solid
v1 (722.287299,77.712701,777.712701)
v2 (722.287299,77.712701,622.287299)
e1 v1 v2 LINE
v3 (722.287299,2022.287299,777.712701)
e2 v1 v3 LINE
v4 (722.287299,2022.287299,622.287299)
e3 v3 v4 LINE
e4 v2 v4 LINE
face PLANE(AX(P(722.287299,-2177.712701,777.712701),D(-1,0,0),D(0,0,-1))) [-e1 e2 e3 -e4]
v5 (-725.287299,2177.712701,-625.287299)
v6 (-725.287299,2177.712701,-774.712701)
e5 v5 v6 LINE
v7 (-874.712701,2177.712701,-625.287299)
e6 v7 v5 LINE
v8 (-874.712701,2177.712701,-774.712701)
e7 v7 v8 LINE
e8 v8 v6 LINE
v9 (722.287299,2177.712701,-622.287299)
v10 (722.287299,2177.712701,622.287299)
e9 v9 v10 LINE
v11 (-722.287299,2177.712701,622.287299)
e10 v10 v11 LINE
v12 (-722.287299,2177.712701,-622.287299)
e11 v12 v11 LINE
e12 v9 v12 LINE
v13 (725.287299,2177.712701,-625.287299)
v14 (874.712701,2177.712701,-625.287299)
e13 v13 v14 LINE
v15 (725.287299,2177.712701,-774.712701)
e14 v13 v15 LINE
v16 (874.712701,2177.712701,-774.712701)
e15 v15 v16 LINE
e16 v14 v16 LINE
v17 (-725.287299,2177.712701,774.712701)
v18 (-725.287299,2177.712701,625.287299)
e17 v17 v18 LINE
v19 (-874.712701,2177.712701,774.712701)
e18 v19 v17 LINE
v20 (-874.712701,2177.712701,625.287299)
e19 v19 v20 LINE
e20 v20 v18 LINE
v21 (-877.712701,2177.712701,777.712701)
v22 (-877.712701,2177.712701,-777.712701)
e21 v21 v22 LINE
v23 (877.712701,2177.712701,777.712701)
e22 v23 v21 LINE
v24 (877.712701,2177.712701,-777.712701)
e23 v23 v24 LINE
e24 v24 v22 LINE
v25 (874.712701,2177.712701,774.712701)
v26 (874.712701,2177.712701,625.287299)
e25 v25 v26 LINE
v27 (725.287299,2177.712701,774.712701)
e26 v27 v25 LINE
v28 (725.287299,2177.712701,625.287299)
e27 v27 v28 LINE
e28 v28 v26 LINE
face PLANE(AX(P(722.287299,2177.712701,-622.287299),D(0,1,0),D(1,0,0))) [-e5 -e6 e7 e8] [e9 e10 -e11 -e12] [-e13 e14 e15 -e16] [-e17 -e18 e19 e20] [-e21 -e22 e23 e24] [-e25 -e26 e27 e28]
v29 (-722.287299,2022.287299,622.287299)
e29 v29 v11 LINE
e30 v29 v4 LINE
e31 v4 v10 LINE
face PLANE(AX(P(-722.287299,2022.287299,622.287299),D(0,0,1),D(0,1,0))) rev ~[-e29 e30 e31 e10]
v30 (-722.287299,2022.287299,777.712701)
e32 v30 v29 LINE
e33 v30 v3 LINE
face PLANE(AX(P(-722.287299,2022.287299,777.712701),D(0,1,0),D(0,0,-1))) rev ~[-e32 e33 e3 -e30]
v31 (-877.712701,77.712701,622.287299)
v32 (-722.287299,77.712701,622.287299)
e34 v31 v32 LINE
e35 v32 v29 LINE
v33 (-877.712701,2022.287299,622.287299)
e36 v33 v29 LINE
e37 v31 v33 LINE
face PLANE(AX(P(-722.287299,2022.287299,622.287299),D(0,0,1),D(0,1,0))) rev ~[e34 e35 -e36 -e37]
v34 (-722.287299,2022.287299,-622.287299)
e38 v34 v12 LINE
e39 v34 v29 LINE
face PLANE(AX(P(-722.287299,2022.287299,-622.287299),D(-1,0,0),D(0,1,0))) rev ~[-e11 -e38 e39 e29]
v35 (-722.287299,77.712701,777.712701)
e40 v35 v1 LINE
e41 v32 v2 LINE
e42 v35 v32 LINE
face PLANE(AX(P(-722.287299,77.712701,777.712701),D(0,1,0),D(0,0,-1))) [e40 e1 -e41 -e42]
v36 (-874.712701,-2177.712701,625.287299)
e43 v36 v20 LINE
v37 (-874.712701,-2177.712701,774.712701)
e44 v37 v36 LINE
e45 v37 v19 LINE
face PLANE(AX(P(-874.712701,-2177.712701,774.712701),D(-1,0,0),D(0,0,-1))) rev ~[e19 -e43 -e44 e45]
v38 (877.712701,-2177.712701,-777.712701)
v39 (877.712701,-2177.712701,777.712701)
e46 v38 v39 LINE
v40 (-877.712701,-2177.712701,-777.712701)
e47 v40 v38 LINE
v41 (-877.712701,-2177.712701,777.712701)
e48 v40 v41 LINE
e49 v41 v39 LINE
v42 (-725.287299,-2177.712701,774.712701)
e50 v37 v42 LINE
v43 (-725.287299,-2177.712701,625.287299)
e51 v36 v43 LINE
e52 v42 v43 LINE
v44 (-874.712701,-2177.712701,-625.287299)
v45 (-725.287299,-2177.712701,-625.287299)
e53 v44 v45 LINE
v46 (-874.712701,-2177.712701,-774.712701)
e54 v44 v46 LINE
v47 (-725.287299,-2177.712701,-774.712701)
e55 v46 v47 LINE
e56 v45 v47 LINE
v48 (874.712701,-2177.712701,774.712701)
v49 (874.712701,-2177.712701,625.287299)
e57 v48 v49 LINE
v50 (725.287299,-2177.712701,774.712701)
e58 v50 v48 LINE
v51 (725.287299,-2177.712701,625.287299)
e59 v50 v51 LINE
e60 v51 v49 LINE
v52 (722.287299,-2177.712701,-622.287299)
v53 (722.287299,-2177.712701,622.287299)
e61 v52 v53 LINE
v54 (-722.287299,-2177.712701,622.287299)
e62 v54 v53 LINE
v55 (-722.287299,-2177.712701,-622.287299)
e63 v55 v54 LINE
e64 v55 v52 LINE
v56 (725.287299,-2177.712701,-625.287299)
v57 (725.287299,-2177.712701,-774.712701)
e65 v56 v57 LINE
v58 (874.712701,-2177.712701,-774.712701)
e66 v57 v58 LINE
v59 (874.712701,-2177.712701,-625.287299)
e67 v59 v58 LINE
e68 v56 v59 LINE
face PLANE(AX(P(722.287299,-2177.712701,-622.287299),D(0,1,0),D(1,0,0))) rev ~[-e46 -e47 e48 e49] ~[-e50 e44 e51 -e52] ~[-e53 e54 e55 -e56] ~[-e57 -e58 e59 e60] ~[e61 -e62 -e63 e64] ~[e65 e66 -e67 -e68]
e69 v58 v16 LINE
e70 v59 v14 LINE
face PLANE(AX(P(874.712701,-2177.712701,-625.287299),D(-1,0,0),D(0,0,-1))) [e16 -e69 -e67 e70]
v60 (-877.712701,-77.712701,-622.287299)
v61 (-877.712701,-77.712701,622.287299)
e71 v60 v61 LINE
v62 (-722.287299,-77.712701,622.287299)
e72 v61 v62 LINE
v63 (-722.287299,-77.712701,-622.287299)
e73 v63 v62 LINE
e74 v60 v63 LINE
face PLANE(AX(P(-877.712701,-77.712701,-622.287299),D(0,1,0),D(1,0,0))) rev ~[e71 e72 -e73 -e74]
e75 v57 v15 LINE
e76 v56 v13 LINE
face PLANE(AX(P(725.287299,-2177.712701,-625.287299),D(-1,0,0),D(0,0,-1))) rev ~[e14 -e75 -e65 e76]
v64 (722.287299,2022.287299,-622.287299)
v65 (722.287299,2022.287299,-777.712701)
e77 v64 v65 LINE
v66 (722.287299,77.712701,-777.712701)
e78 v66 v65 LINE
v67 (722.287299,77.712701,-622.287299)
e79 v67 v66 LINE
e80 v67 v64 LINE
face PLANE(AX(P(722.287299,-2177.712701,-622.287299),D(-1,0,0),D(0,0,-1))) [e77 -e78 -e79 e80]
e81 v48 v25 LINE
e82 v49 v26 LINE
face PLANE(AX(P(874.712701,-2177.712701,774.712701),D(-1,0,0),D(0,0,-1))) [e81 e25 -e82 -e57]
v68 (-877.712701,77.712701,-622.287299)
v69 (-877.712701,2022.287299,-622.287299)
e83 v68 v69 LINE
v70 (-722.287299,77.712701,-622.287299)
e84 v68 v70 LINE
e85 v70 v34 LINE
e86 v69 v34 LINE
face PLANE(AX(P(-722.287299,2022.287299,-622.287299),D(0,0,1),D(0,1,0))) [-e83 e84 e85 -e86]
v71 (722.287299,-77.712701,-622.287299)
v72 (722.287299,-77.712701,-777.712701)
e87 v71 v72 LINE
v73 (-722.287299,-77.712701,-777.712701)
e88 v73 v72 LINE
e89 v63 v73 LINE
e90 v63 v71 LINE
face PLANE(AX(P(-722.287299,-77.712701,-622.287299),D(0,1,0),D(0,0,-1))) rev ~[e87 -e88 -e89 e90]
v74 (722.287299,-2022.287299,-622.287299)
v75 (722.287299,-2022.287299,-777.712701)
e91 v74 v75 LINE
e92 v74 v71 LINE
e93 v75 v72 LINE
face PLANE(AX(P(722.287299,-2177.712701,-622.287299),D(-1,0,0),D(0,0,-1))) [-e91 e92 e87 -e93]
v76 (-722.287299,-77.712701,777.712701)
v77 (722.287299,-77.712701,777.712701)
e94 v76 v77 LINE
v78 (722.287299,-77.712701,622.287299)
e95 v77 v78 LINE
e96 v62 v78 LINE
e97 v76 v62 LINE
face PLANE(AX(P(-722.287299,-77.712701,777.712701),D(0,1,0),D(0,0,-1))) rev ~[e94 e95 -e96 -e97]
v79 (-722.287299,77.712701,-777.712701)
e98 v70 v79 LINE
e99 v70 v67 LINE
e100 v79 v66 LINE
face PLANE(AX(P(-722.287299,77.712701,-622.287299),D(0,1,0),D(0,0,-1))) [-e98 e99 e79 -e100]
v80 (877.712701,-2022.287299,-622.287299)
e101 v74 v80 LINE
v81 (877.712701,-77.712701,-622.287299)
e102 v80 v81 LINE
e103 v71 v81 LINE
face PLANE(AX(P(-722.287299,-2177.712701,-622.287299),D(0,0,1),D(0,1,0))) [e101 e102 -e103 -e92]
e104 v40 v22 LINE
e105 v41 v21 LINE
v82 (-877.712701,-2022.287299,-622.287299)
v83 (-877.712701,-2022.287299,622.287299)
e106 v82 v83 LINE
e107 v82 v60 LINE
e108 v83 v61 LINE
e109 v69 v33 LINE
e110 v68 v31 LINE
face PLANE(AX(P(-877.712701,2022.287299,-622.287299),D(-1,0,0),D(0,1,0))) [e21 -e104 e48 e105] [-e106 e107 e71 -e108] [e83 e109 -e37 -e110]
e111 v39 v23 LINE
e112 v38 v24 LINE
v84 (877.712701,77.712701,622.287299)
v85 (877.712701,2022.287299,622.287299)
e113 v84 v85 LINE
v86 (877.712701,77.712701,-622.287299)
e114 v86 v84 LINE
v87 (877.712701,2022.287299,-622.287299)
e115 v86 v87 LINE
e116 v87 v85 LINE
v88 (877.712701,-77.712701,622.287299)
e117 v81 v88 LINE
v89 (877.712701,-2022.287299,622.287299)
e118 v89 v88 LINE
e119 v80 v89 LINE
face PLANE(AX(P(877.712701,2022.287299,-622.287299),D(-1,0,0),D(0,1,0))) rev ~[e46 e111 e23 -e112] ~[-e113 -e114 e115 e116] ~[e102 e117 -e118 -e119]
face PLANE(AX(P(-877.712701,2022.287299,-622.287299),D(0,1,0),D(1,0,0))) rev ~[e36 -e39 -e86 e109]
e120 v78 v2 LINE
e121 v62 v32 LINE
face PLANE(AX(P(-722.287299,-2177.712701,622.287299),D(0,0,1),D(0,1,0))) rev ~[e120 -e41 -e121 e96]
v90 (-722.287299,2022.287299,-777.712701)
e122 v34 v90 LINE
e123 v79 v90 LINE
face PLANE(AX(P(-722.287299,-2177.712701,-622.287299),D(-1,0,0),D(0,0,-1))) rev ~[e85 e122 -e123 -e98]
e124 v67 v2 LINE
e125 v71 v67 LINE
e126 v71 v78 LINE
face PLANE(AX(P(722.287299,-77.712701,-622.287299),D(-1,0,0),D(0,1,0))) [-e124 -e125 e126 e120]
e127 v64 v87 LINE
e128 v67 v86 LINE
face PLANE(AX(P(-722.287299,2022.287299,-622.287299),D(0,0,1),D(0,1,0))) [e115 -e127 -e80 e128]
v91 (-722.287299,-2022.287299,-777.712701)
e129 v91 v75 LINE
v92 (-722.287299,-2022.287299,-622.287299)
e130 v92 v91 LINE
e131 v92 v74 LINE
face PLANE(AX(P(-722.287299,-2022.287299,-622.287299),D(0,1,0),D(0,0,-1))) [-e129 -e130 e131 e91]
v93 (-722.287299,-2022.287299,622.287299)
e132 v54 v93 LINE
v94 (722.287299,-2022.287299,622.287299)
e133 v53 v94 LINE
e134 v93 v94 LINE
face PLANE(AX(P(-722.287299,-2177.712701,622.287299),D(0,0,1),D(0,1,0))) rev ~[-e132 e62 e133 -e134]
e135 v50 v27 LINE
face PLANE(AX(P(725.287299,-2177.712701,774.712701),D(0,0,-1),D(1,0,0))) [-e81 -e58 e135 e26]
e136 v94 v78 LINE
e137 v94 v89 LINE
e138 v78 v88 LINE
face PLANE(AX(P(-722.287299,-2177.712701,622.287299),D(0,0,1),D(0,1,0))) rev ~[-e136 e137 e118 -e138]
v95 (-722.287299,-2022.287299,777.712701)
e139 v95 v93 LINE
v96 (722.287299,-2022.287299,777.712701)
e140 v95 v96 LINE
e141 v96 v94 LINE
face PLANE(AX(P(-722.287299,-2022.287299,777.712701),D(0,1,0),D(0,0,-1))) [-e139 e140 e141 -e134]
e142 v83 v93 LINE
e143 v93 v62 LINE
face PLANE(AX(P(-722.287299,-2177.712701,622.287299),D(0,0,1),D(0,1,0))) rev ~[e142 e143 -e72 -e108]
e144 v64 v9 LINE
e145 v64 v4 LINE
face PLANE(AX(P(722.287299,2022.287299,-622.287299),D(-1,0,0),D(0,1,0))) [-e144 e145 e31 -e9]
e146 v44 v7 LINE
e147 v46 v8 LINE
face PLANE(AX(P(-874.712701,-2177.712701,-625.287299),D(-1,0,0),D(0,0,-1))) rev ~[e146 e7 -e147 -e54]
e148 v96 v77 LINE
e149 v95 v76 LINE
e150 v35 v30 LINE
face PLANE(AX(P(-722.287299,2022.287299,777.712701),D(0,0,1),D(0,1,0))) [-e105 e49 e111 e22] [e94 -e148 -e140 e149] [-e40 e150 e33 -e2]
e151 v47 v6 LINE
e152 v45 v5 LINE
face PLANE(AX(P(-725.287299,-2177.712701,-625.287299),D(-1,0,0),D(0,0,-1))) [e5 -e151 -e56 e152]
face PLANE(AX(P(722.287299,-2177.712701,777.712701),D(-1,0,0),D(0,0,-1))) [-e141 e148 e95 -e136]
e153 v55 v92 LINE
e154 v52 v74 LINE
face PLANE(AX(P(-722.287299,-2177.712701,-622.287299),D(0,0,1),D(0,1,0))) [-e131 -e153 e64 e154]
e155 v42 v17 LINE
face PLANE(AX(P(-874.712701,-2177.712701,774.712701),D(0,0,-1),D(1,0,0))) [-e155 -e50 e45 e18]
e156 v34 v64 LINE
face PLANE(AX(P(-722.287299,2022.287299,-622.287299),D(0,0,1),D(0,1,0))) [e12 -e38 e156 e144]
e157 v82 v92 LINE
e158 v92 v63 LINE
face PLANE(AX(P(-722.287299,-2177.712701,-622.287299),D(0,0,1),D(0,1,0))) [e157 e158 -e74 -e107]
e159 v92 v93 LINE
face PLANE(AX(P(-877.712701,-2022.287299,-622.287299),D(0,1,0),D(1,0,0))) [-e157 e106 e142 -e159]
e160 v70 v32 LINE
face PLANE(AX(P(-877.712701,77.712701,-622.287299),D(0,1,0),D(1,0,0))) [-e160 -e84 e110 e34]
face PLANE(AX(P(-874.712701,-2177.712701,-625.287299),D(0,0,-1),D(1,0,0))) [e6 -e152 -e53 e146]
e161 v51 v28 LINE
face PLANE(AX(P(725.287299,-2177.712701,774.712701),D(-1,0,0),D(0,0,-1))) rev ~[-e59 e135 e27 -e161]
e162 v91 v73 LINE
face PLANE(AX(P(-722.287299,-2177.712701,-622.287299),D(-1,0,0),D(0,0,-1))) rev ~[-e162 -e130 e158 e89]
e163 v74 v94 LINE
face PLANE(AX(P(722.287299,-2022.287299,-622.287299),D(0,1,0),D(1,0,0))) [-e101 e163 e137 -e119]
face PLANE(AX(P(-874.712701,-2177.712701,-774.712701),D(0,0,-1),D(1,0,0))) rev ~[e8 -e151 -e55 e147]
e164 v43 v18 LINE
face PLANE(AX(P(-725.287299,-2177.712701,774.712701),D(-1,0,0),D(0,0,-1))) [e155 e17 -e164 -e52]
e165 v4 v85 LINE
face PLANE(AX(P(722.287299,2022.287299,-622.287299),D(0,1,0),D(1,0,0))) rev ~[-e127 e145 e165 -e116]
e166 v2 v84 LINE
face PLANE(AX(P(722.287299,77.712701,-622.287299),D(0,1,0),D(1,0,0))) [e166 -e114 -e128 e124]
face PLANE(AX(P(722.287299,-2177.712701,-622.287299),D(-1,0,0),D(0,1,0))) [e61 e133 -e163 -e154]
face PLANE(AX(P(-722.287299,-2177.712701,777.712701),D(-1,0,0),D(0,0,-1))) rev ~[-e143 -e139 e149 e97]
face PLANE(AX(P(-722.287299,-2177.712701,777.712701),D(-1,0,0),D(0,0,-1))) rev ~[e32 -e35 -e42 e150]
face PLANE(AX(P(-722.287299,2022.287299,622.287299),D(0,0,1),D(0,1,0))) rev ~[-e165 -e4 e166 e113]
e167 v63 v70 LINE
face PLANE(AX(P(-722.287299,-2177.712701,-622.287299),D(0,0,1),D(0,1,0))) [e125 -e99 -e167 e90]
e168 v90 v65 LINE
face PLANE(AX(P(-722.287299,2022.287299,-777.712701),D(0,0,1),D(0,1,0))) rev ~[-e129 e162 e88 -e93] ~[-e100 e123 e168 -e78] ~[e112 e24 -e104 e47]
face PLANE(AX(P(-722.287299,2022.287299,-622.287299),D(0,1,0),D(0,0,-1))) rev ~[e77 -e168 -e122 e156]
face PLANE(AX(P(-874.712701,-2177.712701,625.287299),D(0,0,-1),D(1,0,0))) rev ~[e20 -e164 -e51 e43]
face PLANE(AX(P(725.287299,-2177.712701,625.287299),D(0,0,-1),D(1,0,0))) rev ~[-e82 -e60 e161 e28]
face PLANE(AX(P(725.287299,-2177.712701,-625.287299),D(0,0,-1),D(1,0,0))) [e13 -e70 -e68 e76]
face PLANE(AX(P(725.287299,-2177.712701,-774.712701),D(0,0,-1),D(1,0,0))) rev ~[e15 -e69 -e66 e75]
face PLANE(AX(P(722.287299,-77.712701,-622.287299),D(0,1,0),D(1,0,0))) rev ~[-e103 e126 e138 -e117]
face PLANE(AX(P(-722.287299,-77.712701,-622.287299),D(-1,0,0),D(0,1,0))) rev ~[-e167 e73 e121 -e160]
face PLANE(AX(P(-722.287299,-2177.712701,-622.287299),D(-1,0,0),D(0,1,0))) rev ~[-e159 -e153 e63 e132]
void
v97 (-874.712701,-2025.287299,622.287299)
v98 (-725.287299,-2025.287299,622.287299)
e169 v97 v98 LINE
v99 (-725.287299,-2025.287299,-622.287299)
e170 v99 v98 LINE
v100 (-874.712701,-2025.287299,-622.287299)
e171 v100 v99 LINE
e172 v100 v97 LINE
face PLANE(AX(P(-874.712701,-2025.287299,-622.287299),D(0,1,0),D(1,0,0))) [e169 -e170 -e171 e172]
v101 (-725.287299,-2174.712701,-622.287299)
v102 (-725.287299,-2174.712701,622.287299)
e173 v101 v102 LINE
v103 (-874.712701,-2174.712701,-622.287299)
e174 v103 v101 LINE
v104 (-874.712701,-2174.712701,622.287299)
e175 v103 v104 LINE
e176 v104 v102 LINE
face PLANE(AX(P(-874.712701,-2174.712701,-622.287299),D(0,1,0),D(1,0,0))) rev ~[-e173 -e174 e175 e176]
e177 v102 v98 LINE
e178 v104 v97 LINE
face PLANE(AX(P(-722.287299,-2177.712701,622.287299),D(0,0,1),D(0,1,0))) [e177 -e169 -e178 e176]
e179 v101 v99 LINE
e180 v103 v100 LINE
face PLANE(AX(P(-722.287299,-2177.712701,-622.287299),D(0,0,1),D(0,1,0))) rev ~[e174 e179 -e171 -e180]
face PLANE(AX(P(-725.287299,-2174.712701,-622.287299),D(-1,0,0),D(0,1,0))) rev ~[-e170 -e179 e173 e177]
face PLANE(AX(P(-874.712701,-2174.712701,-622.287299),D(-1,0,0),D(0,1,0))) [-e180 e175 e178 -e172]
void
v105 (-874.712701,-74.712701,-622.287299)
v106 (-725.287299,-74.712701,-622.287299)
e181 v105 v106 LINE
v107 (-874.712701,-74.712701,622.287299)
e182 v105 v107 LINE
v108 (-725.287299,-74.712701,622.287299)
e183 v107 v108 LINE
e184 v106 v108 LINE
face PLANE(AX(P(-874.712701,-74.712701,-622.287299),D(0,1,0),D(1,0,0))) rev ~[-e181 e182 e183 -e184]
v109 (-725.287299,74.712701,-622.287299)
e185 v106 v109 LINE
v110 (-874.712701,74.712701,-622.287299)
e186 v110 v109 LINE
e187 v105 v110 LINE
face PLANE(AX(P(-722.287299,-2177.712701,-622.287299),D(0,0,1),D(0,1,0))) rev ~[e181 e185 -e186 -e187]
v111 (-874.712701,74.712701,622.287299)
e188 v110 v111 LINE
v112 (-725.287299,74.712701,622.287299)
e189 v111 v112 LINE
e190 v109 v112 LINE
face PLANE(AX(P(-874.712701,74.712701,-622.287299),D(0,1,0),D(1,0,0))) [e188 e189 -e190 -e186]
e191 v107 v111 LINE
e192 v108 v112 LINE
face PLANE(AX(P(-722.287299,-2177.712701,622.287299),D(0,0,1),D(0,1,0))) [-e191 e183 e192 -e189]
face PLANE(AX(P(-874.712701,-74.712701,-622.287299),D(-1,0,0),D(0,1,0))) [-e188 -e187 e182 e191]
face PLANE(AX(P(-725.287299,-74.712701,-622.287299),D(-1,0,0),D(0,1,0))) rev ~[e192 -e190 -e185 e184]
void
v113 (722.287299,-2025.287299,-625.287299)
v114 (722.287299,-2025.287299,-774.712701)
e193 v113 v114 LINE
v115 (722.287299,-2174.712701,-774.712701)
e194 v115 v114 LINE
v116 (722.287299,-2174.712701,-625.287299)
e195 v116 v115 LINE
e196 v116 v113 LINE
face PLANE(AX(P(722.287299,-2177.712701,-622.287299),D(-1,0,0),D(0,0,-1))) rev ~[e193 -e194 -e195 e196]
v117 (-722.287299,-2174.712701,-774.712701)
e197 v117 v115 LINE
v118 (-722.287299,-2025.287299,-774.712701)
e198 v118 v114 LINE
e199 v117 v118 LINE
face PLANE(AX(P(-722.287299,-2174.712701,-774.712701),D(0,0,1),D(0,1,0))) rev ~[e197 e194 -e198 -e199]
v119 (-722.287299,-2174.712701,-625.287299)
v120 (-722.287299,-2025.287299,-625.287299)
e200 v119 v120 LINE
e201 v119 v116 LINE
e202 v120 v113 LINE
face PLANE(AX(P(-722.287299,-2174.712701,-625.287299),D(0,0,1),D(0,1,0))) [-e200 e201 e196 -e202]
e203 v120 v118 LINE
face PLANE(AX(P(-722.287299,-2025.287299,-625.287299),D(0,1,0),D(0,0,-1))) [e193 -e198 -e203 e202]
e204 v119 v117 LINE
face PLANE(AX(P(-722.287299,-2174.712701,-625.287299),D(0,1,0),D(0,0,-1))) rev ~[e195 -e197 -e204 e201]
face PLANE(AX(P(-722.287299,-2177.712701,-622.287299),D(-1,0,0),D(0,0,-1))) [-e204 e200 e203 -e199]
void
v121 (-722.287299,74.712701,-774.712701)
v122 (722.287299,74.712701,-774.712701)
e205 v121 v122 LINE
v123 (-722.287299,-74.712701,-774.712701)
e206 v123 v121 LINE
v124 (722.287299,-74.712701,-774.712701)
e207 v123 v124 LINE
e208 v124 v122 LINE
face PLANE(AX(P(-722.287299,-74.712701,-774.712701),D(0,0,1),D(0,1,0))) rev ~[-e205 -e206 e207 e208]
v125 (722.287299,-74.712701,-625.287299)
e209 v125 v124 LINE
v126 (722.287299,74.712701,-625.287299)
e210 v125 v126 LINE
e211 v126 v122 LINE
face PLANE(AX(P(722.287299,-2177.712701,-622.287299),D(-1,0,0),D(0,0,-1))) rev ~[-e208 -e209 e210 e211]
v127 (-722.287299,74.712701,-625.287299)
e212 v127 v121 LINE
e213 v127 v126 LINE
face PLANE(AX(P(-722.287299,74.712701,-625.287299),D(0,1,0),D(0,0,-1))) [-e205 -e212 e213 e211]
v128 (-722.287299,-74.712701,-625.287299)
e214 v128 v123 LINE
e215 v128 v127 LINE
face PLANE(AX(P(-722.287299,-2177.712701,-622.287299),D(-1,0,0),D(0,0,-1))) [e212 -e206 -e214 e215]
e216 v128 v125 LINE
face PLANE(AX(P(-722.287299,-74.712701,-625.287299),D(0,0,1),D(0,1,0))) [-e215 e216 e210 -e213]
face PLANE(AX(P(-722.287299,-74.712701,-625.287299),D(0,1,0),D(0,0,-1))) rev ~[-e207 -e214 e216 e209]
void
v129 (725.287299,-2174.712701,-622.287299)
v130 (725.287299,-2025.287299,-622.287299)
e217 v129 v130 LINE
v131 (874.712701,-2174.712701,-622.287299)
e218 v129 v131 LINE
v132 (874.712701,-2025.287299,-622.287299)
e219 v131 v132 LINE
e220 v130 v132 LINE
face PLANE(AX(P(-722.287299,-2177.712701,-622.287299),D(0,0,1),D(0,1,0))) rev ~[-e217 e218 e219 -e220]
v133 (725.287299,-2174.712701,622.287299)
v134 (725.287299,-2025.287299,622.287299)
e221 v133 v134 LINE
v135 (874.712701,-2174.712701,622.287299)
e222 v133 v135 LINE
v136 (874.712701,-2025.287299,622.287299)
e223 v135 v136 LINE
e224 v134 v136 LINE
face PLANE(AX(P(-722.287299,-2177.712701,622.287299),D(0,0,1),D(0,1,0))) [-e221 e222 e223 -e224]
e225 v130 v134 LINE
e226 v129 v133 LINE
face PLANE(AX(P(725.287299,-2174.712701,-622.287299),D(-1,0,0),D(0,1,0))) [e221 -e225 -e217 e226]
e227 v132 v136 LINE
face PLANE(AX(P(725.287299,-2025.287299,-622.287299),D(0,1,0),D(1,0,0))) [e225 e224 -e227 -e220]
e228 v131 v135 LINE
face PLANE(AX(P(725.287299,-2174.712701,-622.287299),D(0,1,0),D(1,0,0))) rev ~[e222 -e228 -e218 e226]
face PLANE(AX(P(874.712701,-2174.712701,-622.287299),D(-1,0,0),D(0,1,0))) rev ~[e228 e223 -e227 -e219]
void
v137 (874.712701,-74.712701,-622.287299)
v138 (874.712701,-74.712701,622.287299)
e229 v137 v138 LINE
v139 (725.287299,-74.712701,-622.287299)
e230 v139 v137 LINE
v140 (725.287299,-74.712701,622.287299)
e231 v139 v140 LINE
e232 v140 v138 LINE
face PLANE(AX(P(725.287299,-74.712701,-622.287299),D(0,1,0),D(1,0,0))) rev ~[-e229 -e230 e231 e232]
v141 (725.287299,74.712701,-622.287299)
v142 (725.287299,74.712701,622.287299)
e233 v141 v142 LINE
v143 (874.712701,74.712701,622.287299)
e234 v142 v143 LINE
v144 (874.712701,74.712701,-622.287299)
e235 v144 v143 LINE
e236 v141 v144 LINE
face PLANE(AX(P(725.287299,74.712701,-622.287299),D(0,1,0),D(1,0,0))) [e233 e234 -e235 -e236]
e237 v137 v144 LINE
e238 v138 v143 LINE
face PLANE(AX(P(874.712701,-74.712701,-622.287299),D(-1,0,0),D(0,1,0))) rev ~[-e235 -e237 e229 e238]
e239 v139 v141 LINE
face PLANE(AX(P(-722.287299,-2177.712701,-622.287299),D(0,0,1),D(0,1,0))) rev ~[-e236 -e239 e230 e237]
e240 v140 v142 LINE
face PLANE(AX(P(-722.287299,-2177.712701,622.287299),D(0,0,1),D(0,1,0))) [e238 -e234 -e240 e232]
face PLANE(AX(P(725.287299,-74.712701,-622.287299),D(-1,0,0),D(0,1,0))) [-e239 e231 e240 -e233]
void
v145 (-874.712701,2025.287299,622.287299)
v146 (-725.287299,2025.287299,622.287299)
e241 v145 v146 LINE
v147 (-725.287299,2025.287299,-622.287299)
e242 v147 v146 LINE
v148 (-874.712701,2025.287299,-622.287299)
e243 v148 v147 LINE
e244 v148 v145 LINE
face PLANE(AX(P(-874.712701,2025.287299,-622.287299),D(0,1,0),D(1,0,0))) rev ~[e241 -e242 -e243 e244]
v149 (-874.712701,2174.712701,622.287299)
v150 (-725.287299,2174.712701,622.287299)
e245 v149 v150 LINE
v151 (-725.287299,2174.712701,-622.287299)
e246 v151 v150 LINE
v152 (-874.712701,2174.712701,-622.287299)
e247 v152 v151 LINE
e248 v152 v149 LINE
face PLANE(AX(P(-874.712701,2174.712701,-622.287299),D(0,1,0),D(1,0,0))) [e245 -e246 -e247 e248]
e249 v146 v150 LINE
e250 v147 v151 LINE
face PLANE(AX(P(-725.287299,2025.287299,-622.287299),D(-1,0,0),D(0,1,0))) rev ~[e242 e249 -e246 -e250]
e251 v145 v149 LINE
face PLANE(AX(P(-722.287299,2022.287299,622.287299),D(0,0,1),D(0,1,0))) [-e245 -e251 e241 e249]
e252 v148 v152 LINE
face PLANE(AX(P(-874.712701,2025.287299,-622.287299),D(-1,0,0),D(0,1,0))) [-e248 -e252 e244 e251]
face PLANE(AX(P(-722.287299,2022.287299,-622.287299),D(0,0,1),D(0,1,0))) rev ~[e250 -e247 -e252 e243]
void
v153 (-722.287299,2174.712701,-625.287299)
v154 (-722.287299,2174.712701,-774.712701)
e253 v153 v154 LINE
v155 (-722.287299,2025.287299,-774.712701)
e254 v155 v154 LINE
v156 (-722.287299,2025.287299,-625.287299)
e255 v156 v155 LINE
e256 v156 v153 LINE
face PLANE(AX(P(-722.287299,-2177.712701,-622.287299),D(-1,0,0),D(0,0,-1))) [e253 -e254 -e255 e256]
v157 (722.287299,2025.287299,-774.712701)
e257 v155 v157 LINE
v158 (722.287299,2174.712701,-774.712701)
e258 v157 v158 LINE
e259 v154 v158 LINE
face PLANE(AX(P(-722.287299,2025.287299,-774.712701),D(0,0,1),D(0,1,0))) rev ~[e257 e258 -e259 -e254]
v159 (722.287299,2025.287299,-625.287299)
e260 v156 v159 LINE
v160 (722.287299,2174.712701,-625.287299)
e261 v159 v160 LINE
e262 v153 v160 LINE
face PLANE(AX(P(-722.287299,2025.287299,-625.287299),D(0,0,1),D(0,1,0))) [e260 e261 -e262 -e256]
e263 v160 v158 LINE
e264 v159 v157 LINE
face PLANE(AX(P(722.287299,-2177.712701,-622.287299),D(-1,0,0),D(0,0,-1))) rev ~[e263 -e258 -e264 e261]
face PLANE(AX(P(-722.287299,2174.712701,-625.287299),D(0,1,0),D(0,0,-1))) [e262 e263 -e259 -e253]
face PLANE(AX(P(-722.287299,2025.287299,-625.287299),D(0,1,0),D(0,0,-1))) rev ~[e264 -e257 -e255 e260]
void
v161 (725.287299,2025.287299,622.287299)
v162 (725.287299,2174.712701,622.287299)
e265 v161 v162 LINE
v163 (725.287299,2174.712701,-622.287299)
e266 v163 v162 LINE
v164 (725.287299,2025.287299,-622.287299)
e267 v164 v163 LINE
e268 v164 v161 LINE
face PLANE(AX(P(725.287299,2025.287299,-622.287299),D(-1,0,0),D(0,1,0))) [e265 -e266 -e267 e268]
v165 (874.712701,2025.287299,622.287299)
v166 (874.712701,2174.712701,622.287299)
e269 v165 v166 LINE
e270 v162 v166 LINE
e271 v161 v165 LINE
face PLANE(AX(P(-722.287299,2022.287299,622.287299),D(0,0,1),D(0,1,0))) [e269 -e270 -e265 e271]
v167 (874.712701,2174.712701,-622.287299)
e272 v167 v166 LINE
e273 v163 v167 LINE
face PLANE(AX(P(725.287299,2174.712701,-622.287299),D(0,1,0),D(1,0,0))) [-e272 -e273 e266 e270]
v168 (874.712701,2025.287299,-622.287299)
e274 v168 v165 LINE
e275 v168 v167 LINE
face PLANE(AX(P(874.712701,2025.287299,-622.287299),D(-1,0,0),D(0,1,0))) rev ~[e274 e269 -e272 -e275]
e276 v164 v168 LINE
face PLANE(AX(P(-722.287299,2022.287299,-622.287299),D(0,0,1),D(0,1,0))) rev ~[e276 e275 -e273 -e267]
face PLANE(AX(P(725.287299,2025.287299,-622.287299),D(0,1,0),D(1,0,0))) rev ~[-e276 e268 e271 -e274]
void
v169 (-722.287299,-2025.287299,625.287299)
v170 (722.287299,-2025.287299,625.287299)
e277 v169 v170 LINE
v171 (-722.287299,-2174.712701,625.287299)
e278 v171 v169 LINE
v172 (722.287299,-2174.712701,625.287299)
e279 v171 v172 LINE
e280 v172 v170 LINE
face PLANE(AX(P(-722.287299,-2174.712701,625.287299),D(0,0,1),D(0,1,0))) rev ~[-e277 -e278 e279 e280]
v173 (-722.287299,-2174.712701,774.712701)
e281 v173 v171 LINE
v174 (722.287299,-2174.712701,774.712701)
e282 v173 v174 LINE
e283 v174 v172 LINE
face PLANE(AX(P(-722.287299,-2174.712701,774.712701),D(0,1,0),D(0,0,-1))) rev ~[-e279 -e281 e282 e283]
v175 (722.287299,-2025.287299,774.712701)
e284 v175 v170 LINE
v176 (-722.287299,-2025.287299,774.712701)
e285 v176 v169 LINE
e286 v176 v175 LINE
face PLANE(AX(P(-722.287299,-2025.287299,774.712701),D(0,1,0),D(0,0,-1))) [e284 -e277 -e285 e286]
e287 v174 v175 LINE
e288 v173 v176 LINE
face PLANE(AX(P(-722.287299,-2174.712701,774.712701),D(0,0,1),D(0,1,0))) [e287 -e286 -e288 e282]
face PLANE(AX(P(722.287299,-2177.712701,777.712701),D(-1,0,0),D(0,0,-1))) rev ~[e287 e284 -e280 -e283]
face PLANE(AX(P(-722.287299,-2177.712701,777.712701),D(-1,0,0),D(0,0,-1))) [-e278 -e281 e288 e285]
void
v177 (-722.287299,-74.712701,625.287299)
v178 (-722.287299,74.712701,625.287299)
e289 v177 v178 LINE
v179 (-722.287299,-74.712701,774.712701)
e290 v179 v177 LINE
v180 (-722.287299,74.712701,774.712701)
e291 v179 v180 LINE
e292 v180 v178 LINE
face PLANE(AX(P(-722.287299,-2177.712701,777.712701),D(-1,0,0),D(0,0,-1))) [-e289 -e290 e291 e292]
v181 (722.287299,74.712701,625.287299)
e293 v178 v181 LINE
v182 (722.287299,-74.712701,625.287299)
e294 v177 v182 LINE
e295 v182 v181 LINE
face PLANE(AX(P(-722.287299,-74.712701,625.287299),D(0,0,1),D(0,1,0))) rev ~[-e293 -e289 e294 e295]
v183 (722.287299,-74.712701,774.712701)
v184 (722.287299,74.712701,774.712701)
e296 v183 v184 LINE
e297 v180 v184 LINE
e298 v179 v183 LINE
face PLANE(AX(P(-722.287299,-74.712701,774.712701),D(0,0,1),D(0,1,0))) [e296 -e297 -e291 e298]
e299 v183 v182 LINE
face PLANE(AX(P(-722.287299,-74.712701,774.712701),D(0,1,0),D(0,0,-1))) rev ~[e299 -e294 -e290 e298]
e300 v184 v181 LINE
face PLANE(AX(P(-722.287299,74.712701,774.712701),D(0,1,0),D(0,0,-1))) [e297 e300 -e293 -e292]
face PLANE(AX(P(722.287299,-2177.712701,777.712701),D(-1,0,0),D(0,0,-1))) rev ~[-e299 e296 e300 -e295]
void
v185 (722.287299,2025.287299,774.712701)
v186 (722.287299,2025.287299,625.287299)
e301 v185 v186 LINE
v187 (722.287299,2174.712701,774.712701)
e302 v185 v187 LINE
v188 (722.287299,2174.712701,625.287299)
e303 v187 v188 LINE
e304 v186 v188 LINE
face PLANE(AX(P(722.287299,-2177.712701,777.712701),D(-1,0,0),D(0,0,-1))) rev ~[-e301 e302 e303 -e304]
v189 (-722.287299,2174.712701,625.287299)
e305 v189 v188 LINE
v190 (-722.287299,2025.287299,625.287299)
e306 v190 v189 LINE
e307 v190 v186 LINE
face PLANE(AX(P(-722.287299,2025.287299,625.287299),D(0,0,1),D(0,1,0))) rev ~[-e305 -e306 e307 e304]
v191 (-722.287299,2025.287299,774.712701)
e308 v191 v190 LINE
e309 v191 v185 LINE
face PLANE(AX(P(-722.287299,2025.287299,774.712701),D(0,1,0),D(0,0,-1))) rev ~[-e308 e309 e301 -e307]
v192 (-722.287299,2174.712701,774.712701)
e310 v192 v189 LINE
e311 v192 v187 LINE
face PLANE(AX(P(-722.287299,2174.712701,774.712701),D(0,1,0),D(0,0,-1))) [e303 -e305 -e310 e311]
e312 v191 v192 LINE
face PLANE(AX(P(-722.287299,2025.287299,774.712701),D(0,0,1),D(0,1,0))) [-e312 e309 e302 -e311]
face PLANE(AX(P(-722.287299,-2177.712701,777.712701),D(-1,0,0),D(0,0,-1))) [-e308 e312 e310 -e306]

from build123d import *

# Parameters (mm, degrees)
BOSS_EXTRUDE1_START  = -2177.712701274
SKETCH1_W            = 155.425402548
SKETCH1_H            = 155.425402548
SKETCH1_W_2          = 149.425402548
SKETCH1_H_2          = 149.425402548
BOSS_EXTRUDE1_DEPTH  = 4355.425402548
BOSS_EXTRUDE2_START  = -2177.712701274
SKETCH2_W            = 155.425402548
SKETCH2_H            = 155.425402548
SKETCH2_W_2          = 149.425402548
SKETCH2_H_2          = 149.425402548
BOSS_EXTRUDE2_DEPTH  = 4355.425402548
BOSS_EXTRUDE3_START  = -2177.712701274
SKETCH3_W            = 155.425402548
SKETCH3_H            = 155.425402548
SKETCH3_W_2          = 149.425402548
SKETCH3_H_2          = 149.425402548
BOSS_EXTRUDE3_DEPTH  = 4355.425402548
BOSS_EXTRUDE4_START  = -2177.712701274
SKETCH4_W            = 155.425402548
SKETCH4_H            = 155.425402548
SKETCH4_W_2          = 149.425402548
SKETCH4_H_2          = 149.425402548
BOSS_EXTRUDE4_DEPTH  = 4355.425402548
BOSS_EXTRUDE5_START  = -722.287298726
SKETCH5_W            = 155.425402548
SKETCH5_H            = 155.425402548
SKETCH5_W_2          = 149.425402548
SKETCH5_H_2          = 149.425402548
BOSS_EXTRUDE5_DEPTH  = 1444.574597452
BOSS_EXTRUDE6_START  = -722.287298726
SKETCH6_W            = 155.425402548
SKETCH6_H            = 155.425402548
SKETCH6_W_2          = 149.425402548
SKETCH6_H_2          = 149.425402548
BOSS_EXTRUDE6_DEPTH  = 1444.574597452
BOSS_EXTRUDE7_START  = -622.287298726
SKETCH7_W            = 155.425402548
SKETCH7_H            = 155.425402548
SKETCH7_W_2          = 149.425402548
SKETCH7_H_2          = 149.425402548
BOSS_EXTRUDE7_DEPTH  = 1244.574597452
BOSS_EXTRUDE8_START  = -622.287298726
SKETCH8_W            = 155.425402548
SKETCH8_H            = 155.425402548
SKETCH8_W_2          = 149.425402548
SKETCH8_H_2          = 149.425402548
BOSS_EXTRUDE8_DEPTH  = 1244.574597452
BOSS_EXTRUDE9_START  = -722.287298726
SKETCH9_W            = 155.425402548
SKETCH9_H            = 155.425402548
SKETCH9_W_2          = 149.425402548
SKETCH9_H_2          = 149.425402548
BOSS_EXTRUDE9_DEPTH  = 1444.574597452
BOSS_EXTRUDE10_START = -722.287298726
SKETCH10_W           = 155.425402548
SKETCH10_H           = 155.425402548
SKETCH10_W_2         = 149.425402548
SKETCH10_H_2         = 149.425402548
BOSS_EXTRUDE10_DEPTH = 1444.574597452
BOSS_EXTRUDE11_START = -622.287298726
SKETCH11_W           = 155.425402548
SKETCH11_H           = 155.425402548
SKETCH11_W_2         = 149.425402548
SKETCH11_H_2         = 149.425402548
BOSS_EXTRUDE11_DEPTH = 1244.574597452
BOSS_EXTRUDE12_START = -622.287298726
SKETCH12_W           = 155.425402548
SKETCH12_H           = 155.425402548
SKETCH12_W_2         = 149.425402548
SKETCH12_H_2         = 149.425402548
BOSS_EXTRUDE12_DEPTH = 1244.574597452
BOSS_EXTRUDE13_START = -722.287298726
SKETCH13_W           = 155.425402548
SKETCH13_H           = 155.425402548
SKETCH13_W_2         = 149.425402548
SKETCH13_H_2         = 149.425402548
BOSS_EXTRUDE13_DEPTH = 1444.574597452
BOSS_EXTRUDE14_START = -722.287298726
SKETCH14_W           = 155.425402548
SKETCH14_H           = 155.425402548
SKETCH14_W_2         = 149.425402548
SKETCH14_H_2         = 149.425402548
BOSS_EXTRUDE14_DEPTH = 1444.574597452
BOSS_EXTRUDE15_START = -622.287298726
SKETCH15_W           = 155.425402548
SKETCH15_H           = 155.425402548
SKETCH15_W_2         = 149.425402548
SKETCH15_H_2         = 149.425402548
BOSS_EXTRUDE15_DEPTH = 1244.574597452
BOSS_EXTRUDE16_START = -622.287298726
SKETCH16_W           = 155.425402548
SKETCH16_H           = 155.425402548
SKETCH16_W_2         = 149.425402548
SKETCH16_H_2         = 149.425402548
BOSS_EXTRUDE16_DEPTH = 1244.574597452


with BuildPart() as part:
    # Sketch1 → Boss-Extrude1 (new body)
    with BuildSketch(Plane(origin=(0, 0, 0), x_dir=(1, 0, 0), z_dir=(0, 1, 0)).offset(BOSS_EXTRUDE1_START)):
        with Locations((-800, 700)):
            Rectangle(SKETCH1_W, SKETCH1_H)
        with Locations((-800, 700)):
            Rectangle(SKETCH1_W_2, SKETCH1_H_2, mode=Mode.SUBTRACT)
    extrude(amount=BOSS_EXTRUDE1_DEPTH)



with BuildPart() as body_2:
    # Sketch2 → Boss-Extrude2 (new body)
    with BuildSketch(Plane(origin=(0, 0, 0), x_dir=(1, 0, 0), z_dir=(0, 1, 0)).offset(BOSS_EXTRUDE2_START)):
        with Locations((-800, -700)):
            Rectangle(SKETCH2_W, SKETCH2_H)
        with Locations((-800, -700)):
            Rectangle(SKETCH2_W_2, SKETCH2_H_2, mode=Mode.SUBTRACT)
    extrude(amount=BOSS_EXTRUDE2_DEPTH)



with BuildPart() as body_3:
    # Sketch3 → Boss-Extrude3 (new body)
    with BuildSketch(Plane(origin=(0, 0, 0), x_dir=(1, 0, 0), z_dir=(0, 1, 0)).offset(BOSS_EXTRUDE3_START)):
        with Locations((800, 700)):
            Rectangle(SKETCH3_W, SKETCH3_H)
        with Locations((800, 700)):
            Rectangle(SKETCH3_W_2, SKETCH3_H_2, mode=Mode.SUBTRACT)
    extrude(amount=BOSS_EXTRUDE3_DEPTH)


with BuildPart() as body_4:
    # Sketch4 → Boss-Extrude4 (new body)
    with BuildSketch(Plane(origin=(0, 0, 0), x_dir=(1, 0, 0), z_dir=(0, 1, 0)).offset(BOSS_EXTRUDE4_START)):
        with Locations((800, -700)):
            Rectangle(SKETCH4_W, SKETCH4_H)
        with Locations((800, -700)):
            Rectangle(SKETCH4_W_2, SKETCH4_H_2, mode=Mode.SUBTRACT)
    extrude(amount=BOSS_EXTRUDE4_DEPTH)


with BuildPart() as part_1:
    add(part.part)

    add(body_3.part)  # Boss-Extrude5 merges body 3
    # Sketch5 → Boss-Extrude5 (add)
    with BuildSketch(Plane(origin=(0, 0, 0), x_dir=(0, 0, -1), z_dir=(1, 0, 0)).offset(BOSS_EXTRUDE5_START)):
        with Locations((700, -2100)):
            Rectangle(SKETCH5_W, SKETCH5_H)
        with Locations((700, -2100)):
            Rectangle(SKETCH5_W_2, SKETCH5_H_2, mode=Mode.SUBTRACT)
    extrude(amount=BOSS_EXTRUDE5_DEPTH)



with BuildPart() as body_2_1:
    add(body_2.part)

    add(body_4.part)  # Boss-Extrude6 merges body 4
    # Sketch6 → Boss-Extrude6 (add)
    with BuildSketch(Plane(origin=(0, 0, 0), x_dir=(0, 0, -1), z_dir=(1, 0, 0)).offset(BOSS_EXTRUDE6_START)):
        with Locations((-700, -2100)):
            Rectangle(SKETCH6_W, SKETCH6_H)
        with Locations((-700, -2100)):
            Rectangle(SKETCH6_W_2, SKETCH6_H_2, mode=Mode.SUBTRACT)
    extrude(amount=BOSS_EXTRUDE6_DEPTH)


with BuildPart() as part_2:
    add(part_1.part)

    add(body_2_1.part)  # Boss-Extrude7 merges body 2
    # Sketch7 → Boss-Extrude7 (add)
    with BuildSketch(Plane.XY.offset(BOSS_EXTRUDE7_START)):
        with Locations((-800, -2100)):
            Rectangle(SKETCH7_W, SKETCH7_H)
        with Locations((-800, -2100)):
            Rectangle(SKETCH7_W_2, SKETCH7_H_2, mode=Mode.SUBTRACT)
    extrude(amount=BOSS_EXTRUDE7_DEPTH)

    # Sketch8 → Boss-Extrude8 (add)
    with BuildSketch(Plane.XY.offset(BOSS_EXTRUDE8_START)):
        with Locations((800, -2100)):
            Rectangle(SKETCH8_W, SKETCH8_H)
        with Locations((800, -2100)):
            Rectangle(SKETCH8_W_2, SKETCH8_H_2, mode=Mode.SUBTRACT)
    extrude(amount=BOSS_EXTRUDE8_DEPTH)

    # Sketch9 → Boss-Extrude9 (add)
    with BuildSketch(Plane(origin=(0, 0, 0), x_dir=(0, 0, -1), z_dir=(1, 0, 0)).offset(BOSS_EXTRUDE9_START)):
        with Locations((700, 0)):
            Rectangle(SKETCH9_W, SKETCH9_H)
        with Locations((700, 0)):
            Rectangle(SKETCH9_W_2, SKETCH9_H_2, mode=Mode.SUBTRACT)
    extrude(amount=BOSS_EXTRUDE9_DEPTH)

    # Sketch10 → Boss-Extrude10 (add)
    with BuildSketch(Plane(origin=(0, 0, 0), x_dir=(0, 0, -1), z_dir=(1, 0, 0)).offset(BOSS_EXTRUDE10_START)):
        with Locations((-700, 0)):
            Rectangle(SKETCH10_W, SKETCH10_H)
        with Locations((-700, 0)):
            Rectangle(SKETCH10_W_2, SKETCH10_H_2, mode=Mode.SUBTRACT)
    extrude(amount=BOSS_EXTRUDE10_DEPTH)

    # Sketch11 → Boss-Extrude11 (add)
    with BuildSketch(Plane.XY.offset(BOSS_EXTRUDE11_START)):
        with Locations((-800, 0)):
            Rectangle(SKETCH11_W, SKETCH11_H)
        with Locations((-800, 0)):
            Rectangle(SKETCH11_W_2, SKETCH11_H_2, mode=Mode.SUBTRACT)
    extrude(amount=BOSS_EXTRUDE11_DEPTH)

    # Sketch12 → Boss-Extrude12 (add)
    with BuildSketch(Plane.XY.offset(BOSS_EXTRUDE12_START)):
        with Locations((800, 0)):
            Rectangle(SKETCH12_W, SKETCH12_H)
        with Locations((800, 0)):
            Rectangle(SKETCH12_W_2, SKETCH12_H_2, mode=Mode.SUBTRACT)
    extrude(amount=BOSS_EXTRUDE12_DEPTH)

    # Sketch13 → Boss-Extrude13 (add)
    with BuildSketch(Plane(origin=(0, 0, 0), x_dir=(0, 0, -1), z_dir=(1, 0, 0)).offset(BOSS_EXTRUDE13_START)):
        with Locations((700, 2100)):
            Rectangle(SKETCH13_W, SKETCH13_H)
        with Locations((700, 2100)):
            Rectangle(SKETCH13_W_2, SKETCH13_H_2, mode=Mode.SUBTRACT)
    extrude(amount=BOSS_EXTRUDE13_DEPTH)

    # Sketch14 → Boss-Extrude14 (add)
    with BuildSketch(Plane(origin=(0, 0, 0), x_dir=(0, 0, -1), z_dir=(1, 0, 0)).offset(BOSS_EXTRUDE14_START)):
        with Locations((-700, 2100)):
            Rectangle(SKETCH14_W, SKETCH14_H)
        with Locations((-700, 2100)):
            Rectangle(SKETCH14_W_2, SKETCH14_H_2, mode=Mode.SUBTRACT)
    extrude(amount=BOSS_EXTRUDE14_DEPTH)

    # Sketch15 → Boss-Extrude15 (add)
    with BuildSketch(Plane.XY.offset(BOSS_EXTRUDE15_START)):
        with Locations((-800, 2100)):
            Rectangle(SKETCH15_W, SKETCH15_H)
        with Locations((-800, 2100)):
            Rectangle(SKETCH15_W_2, SKETCH15_H_2, mode=Mode.SUBTRACT)
    extrude(amount=BOSS_EXTRUDE15_DEPTH)

    # Sketch16 → Boss-Extrude16 (add)
    with BuildSketch(Plane.XY.offset(BOSS_EXTRUDE16_START)):
        with Locations((800, 2100)):
            Rectangle(SKETCH16_W, SKETCH16_H)
        with Locations((800, 2100)):
            Rectangle(SKETCH16_W_2, SKETCH16_H_2, mode=Mode.SUBTRACT)
    extrude(amount=BOSS_EXTRUDE16_DEPTH)


solid = part_2.part
